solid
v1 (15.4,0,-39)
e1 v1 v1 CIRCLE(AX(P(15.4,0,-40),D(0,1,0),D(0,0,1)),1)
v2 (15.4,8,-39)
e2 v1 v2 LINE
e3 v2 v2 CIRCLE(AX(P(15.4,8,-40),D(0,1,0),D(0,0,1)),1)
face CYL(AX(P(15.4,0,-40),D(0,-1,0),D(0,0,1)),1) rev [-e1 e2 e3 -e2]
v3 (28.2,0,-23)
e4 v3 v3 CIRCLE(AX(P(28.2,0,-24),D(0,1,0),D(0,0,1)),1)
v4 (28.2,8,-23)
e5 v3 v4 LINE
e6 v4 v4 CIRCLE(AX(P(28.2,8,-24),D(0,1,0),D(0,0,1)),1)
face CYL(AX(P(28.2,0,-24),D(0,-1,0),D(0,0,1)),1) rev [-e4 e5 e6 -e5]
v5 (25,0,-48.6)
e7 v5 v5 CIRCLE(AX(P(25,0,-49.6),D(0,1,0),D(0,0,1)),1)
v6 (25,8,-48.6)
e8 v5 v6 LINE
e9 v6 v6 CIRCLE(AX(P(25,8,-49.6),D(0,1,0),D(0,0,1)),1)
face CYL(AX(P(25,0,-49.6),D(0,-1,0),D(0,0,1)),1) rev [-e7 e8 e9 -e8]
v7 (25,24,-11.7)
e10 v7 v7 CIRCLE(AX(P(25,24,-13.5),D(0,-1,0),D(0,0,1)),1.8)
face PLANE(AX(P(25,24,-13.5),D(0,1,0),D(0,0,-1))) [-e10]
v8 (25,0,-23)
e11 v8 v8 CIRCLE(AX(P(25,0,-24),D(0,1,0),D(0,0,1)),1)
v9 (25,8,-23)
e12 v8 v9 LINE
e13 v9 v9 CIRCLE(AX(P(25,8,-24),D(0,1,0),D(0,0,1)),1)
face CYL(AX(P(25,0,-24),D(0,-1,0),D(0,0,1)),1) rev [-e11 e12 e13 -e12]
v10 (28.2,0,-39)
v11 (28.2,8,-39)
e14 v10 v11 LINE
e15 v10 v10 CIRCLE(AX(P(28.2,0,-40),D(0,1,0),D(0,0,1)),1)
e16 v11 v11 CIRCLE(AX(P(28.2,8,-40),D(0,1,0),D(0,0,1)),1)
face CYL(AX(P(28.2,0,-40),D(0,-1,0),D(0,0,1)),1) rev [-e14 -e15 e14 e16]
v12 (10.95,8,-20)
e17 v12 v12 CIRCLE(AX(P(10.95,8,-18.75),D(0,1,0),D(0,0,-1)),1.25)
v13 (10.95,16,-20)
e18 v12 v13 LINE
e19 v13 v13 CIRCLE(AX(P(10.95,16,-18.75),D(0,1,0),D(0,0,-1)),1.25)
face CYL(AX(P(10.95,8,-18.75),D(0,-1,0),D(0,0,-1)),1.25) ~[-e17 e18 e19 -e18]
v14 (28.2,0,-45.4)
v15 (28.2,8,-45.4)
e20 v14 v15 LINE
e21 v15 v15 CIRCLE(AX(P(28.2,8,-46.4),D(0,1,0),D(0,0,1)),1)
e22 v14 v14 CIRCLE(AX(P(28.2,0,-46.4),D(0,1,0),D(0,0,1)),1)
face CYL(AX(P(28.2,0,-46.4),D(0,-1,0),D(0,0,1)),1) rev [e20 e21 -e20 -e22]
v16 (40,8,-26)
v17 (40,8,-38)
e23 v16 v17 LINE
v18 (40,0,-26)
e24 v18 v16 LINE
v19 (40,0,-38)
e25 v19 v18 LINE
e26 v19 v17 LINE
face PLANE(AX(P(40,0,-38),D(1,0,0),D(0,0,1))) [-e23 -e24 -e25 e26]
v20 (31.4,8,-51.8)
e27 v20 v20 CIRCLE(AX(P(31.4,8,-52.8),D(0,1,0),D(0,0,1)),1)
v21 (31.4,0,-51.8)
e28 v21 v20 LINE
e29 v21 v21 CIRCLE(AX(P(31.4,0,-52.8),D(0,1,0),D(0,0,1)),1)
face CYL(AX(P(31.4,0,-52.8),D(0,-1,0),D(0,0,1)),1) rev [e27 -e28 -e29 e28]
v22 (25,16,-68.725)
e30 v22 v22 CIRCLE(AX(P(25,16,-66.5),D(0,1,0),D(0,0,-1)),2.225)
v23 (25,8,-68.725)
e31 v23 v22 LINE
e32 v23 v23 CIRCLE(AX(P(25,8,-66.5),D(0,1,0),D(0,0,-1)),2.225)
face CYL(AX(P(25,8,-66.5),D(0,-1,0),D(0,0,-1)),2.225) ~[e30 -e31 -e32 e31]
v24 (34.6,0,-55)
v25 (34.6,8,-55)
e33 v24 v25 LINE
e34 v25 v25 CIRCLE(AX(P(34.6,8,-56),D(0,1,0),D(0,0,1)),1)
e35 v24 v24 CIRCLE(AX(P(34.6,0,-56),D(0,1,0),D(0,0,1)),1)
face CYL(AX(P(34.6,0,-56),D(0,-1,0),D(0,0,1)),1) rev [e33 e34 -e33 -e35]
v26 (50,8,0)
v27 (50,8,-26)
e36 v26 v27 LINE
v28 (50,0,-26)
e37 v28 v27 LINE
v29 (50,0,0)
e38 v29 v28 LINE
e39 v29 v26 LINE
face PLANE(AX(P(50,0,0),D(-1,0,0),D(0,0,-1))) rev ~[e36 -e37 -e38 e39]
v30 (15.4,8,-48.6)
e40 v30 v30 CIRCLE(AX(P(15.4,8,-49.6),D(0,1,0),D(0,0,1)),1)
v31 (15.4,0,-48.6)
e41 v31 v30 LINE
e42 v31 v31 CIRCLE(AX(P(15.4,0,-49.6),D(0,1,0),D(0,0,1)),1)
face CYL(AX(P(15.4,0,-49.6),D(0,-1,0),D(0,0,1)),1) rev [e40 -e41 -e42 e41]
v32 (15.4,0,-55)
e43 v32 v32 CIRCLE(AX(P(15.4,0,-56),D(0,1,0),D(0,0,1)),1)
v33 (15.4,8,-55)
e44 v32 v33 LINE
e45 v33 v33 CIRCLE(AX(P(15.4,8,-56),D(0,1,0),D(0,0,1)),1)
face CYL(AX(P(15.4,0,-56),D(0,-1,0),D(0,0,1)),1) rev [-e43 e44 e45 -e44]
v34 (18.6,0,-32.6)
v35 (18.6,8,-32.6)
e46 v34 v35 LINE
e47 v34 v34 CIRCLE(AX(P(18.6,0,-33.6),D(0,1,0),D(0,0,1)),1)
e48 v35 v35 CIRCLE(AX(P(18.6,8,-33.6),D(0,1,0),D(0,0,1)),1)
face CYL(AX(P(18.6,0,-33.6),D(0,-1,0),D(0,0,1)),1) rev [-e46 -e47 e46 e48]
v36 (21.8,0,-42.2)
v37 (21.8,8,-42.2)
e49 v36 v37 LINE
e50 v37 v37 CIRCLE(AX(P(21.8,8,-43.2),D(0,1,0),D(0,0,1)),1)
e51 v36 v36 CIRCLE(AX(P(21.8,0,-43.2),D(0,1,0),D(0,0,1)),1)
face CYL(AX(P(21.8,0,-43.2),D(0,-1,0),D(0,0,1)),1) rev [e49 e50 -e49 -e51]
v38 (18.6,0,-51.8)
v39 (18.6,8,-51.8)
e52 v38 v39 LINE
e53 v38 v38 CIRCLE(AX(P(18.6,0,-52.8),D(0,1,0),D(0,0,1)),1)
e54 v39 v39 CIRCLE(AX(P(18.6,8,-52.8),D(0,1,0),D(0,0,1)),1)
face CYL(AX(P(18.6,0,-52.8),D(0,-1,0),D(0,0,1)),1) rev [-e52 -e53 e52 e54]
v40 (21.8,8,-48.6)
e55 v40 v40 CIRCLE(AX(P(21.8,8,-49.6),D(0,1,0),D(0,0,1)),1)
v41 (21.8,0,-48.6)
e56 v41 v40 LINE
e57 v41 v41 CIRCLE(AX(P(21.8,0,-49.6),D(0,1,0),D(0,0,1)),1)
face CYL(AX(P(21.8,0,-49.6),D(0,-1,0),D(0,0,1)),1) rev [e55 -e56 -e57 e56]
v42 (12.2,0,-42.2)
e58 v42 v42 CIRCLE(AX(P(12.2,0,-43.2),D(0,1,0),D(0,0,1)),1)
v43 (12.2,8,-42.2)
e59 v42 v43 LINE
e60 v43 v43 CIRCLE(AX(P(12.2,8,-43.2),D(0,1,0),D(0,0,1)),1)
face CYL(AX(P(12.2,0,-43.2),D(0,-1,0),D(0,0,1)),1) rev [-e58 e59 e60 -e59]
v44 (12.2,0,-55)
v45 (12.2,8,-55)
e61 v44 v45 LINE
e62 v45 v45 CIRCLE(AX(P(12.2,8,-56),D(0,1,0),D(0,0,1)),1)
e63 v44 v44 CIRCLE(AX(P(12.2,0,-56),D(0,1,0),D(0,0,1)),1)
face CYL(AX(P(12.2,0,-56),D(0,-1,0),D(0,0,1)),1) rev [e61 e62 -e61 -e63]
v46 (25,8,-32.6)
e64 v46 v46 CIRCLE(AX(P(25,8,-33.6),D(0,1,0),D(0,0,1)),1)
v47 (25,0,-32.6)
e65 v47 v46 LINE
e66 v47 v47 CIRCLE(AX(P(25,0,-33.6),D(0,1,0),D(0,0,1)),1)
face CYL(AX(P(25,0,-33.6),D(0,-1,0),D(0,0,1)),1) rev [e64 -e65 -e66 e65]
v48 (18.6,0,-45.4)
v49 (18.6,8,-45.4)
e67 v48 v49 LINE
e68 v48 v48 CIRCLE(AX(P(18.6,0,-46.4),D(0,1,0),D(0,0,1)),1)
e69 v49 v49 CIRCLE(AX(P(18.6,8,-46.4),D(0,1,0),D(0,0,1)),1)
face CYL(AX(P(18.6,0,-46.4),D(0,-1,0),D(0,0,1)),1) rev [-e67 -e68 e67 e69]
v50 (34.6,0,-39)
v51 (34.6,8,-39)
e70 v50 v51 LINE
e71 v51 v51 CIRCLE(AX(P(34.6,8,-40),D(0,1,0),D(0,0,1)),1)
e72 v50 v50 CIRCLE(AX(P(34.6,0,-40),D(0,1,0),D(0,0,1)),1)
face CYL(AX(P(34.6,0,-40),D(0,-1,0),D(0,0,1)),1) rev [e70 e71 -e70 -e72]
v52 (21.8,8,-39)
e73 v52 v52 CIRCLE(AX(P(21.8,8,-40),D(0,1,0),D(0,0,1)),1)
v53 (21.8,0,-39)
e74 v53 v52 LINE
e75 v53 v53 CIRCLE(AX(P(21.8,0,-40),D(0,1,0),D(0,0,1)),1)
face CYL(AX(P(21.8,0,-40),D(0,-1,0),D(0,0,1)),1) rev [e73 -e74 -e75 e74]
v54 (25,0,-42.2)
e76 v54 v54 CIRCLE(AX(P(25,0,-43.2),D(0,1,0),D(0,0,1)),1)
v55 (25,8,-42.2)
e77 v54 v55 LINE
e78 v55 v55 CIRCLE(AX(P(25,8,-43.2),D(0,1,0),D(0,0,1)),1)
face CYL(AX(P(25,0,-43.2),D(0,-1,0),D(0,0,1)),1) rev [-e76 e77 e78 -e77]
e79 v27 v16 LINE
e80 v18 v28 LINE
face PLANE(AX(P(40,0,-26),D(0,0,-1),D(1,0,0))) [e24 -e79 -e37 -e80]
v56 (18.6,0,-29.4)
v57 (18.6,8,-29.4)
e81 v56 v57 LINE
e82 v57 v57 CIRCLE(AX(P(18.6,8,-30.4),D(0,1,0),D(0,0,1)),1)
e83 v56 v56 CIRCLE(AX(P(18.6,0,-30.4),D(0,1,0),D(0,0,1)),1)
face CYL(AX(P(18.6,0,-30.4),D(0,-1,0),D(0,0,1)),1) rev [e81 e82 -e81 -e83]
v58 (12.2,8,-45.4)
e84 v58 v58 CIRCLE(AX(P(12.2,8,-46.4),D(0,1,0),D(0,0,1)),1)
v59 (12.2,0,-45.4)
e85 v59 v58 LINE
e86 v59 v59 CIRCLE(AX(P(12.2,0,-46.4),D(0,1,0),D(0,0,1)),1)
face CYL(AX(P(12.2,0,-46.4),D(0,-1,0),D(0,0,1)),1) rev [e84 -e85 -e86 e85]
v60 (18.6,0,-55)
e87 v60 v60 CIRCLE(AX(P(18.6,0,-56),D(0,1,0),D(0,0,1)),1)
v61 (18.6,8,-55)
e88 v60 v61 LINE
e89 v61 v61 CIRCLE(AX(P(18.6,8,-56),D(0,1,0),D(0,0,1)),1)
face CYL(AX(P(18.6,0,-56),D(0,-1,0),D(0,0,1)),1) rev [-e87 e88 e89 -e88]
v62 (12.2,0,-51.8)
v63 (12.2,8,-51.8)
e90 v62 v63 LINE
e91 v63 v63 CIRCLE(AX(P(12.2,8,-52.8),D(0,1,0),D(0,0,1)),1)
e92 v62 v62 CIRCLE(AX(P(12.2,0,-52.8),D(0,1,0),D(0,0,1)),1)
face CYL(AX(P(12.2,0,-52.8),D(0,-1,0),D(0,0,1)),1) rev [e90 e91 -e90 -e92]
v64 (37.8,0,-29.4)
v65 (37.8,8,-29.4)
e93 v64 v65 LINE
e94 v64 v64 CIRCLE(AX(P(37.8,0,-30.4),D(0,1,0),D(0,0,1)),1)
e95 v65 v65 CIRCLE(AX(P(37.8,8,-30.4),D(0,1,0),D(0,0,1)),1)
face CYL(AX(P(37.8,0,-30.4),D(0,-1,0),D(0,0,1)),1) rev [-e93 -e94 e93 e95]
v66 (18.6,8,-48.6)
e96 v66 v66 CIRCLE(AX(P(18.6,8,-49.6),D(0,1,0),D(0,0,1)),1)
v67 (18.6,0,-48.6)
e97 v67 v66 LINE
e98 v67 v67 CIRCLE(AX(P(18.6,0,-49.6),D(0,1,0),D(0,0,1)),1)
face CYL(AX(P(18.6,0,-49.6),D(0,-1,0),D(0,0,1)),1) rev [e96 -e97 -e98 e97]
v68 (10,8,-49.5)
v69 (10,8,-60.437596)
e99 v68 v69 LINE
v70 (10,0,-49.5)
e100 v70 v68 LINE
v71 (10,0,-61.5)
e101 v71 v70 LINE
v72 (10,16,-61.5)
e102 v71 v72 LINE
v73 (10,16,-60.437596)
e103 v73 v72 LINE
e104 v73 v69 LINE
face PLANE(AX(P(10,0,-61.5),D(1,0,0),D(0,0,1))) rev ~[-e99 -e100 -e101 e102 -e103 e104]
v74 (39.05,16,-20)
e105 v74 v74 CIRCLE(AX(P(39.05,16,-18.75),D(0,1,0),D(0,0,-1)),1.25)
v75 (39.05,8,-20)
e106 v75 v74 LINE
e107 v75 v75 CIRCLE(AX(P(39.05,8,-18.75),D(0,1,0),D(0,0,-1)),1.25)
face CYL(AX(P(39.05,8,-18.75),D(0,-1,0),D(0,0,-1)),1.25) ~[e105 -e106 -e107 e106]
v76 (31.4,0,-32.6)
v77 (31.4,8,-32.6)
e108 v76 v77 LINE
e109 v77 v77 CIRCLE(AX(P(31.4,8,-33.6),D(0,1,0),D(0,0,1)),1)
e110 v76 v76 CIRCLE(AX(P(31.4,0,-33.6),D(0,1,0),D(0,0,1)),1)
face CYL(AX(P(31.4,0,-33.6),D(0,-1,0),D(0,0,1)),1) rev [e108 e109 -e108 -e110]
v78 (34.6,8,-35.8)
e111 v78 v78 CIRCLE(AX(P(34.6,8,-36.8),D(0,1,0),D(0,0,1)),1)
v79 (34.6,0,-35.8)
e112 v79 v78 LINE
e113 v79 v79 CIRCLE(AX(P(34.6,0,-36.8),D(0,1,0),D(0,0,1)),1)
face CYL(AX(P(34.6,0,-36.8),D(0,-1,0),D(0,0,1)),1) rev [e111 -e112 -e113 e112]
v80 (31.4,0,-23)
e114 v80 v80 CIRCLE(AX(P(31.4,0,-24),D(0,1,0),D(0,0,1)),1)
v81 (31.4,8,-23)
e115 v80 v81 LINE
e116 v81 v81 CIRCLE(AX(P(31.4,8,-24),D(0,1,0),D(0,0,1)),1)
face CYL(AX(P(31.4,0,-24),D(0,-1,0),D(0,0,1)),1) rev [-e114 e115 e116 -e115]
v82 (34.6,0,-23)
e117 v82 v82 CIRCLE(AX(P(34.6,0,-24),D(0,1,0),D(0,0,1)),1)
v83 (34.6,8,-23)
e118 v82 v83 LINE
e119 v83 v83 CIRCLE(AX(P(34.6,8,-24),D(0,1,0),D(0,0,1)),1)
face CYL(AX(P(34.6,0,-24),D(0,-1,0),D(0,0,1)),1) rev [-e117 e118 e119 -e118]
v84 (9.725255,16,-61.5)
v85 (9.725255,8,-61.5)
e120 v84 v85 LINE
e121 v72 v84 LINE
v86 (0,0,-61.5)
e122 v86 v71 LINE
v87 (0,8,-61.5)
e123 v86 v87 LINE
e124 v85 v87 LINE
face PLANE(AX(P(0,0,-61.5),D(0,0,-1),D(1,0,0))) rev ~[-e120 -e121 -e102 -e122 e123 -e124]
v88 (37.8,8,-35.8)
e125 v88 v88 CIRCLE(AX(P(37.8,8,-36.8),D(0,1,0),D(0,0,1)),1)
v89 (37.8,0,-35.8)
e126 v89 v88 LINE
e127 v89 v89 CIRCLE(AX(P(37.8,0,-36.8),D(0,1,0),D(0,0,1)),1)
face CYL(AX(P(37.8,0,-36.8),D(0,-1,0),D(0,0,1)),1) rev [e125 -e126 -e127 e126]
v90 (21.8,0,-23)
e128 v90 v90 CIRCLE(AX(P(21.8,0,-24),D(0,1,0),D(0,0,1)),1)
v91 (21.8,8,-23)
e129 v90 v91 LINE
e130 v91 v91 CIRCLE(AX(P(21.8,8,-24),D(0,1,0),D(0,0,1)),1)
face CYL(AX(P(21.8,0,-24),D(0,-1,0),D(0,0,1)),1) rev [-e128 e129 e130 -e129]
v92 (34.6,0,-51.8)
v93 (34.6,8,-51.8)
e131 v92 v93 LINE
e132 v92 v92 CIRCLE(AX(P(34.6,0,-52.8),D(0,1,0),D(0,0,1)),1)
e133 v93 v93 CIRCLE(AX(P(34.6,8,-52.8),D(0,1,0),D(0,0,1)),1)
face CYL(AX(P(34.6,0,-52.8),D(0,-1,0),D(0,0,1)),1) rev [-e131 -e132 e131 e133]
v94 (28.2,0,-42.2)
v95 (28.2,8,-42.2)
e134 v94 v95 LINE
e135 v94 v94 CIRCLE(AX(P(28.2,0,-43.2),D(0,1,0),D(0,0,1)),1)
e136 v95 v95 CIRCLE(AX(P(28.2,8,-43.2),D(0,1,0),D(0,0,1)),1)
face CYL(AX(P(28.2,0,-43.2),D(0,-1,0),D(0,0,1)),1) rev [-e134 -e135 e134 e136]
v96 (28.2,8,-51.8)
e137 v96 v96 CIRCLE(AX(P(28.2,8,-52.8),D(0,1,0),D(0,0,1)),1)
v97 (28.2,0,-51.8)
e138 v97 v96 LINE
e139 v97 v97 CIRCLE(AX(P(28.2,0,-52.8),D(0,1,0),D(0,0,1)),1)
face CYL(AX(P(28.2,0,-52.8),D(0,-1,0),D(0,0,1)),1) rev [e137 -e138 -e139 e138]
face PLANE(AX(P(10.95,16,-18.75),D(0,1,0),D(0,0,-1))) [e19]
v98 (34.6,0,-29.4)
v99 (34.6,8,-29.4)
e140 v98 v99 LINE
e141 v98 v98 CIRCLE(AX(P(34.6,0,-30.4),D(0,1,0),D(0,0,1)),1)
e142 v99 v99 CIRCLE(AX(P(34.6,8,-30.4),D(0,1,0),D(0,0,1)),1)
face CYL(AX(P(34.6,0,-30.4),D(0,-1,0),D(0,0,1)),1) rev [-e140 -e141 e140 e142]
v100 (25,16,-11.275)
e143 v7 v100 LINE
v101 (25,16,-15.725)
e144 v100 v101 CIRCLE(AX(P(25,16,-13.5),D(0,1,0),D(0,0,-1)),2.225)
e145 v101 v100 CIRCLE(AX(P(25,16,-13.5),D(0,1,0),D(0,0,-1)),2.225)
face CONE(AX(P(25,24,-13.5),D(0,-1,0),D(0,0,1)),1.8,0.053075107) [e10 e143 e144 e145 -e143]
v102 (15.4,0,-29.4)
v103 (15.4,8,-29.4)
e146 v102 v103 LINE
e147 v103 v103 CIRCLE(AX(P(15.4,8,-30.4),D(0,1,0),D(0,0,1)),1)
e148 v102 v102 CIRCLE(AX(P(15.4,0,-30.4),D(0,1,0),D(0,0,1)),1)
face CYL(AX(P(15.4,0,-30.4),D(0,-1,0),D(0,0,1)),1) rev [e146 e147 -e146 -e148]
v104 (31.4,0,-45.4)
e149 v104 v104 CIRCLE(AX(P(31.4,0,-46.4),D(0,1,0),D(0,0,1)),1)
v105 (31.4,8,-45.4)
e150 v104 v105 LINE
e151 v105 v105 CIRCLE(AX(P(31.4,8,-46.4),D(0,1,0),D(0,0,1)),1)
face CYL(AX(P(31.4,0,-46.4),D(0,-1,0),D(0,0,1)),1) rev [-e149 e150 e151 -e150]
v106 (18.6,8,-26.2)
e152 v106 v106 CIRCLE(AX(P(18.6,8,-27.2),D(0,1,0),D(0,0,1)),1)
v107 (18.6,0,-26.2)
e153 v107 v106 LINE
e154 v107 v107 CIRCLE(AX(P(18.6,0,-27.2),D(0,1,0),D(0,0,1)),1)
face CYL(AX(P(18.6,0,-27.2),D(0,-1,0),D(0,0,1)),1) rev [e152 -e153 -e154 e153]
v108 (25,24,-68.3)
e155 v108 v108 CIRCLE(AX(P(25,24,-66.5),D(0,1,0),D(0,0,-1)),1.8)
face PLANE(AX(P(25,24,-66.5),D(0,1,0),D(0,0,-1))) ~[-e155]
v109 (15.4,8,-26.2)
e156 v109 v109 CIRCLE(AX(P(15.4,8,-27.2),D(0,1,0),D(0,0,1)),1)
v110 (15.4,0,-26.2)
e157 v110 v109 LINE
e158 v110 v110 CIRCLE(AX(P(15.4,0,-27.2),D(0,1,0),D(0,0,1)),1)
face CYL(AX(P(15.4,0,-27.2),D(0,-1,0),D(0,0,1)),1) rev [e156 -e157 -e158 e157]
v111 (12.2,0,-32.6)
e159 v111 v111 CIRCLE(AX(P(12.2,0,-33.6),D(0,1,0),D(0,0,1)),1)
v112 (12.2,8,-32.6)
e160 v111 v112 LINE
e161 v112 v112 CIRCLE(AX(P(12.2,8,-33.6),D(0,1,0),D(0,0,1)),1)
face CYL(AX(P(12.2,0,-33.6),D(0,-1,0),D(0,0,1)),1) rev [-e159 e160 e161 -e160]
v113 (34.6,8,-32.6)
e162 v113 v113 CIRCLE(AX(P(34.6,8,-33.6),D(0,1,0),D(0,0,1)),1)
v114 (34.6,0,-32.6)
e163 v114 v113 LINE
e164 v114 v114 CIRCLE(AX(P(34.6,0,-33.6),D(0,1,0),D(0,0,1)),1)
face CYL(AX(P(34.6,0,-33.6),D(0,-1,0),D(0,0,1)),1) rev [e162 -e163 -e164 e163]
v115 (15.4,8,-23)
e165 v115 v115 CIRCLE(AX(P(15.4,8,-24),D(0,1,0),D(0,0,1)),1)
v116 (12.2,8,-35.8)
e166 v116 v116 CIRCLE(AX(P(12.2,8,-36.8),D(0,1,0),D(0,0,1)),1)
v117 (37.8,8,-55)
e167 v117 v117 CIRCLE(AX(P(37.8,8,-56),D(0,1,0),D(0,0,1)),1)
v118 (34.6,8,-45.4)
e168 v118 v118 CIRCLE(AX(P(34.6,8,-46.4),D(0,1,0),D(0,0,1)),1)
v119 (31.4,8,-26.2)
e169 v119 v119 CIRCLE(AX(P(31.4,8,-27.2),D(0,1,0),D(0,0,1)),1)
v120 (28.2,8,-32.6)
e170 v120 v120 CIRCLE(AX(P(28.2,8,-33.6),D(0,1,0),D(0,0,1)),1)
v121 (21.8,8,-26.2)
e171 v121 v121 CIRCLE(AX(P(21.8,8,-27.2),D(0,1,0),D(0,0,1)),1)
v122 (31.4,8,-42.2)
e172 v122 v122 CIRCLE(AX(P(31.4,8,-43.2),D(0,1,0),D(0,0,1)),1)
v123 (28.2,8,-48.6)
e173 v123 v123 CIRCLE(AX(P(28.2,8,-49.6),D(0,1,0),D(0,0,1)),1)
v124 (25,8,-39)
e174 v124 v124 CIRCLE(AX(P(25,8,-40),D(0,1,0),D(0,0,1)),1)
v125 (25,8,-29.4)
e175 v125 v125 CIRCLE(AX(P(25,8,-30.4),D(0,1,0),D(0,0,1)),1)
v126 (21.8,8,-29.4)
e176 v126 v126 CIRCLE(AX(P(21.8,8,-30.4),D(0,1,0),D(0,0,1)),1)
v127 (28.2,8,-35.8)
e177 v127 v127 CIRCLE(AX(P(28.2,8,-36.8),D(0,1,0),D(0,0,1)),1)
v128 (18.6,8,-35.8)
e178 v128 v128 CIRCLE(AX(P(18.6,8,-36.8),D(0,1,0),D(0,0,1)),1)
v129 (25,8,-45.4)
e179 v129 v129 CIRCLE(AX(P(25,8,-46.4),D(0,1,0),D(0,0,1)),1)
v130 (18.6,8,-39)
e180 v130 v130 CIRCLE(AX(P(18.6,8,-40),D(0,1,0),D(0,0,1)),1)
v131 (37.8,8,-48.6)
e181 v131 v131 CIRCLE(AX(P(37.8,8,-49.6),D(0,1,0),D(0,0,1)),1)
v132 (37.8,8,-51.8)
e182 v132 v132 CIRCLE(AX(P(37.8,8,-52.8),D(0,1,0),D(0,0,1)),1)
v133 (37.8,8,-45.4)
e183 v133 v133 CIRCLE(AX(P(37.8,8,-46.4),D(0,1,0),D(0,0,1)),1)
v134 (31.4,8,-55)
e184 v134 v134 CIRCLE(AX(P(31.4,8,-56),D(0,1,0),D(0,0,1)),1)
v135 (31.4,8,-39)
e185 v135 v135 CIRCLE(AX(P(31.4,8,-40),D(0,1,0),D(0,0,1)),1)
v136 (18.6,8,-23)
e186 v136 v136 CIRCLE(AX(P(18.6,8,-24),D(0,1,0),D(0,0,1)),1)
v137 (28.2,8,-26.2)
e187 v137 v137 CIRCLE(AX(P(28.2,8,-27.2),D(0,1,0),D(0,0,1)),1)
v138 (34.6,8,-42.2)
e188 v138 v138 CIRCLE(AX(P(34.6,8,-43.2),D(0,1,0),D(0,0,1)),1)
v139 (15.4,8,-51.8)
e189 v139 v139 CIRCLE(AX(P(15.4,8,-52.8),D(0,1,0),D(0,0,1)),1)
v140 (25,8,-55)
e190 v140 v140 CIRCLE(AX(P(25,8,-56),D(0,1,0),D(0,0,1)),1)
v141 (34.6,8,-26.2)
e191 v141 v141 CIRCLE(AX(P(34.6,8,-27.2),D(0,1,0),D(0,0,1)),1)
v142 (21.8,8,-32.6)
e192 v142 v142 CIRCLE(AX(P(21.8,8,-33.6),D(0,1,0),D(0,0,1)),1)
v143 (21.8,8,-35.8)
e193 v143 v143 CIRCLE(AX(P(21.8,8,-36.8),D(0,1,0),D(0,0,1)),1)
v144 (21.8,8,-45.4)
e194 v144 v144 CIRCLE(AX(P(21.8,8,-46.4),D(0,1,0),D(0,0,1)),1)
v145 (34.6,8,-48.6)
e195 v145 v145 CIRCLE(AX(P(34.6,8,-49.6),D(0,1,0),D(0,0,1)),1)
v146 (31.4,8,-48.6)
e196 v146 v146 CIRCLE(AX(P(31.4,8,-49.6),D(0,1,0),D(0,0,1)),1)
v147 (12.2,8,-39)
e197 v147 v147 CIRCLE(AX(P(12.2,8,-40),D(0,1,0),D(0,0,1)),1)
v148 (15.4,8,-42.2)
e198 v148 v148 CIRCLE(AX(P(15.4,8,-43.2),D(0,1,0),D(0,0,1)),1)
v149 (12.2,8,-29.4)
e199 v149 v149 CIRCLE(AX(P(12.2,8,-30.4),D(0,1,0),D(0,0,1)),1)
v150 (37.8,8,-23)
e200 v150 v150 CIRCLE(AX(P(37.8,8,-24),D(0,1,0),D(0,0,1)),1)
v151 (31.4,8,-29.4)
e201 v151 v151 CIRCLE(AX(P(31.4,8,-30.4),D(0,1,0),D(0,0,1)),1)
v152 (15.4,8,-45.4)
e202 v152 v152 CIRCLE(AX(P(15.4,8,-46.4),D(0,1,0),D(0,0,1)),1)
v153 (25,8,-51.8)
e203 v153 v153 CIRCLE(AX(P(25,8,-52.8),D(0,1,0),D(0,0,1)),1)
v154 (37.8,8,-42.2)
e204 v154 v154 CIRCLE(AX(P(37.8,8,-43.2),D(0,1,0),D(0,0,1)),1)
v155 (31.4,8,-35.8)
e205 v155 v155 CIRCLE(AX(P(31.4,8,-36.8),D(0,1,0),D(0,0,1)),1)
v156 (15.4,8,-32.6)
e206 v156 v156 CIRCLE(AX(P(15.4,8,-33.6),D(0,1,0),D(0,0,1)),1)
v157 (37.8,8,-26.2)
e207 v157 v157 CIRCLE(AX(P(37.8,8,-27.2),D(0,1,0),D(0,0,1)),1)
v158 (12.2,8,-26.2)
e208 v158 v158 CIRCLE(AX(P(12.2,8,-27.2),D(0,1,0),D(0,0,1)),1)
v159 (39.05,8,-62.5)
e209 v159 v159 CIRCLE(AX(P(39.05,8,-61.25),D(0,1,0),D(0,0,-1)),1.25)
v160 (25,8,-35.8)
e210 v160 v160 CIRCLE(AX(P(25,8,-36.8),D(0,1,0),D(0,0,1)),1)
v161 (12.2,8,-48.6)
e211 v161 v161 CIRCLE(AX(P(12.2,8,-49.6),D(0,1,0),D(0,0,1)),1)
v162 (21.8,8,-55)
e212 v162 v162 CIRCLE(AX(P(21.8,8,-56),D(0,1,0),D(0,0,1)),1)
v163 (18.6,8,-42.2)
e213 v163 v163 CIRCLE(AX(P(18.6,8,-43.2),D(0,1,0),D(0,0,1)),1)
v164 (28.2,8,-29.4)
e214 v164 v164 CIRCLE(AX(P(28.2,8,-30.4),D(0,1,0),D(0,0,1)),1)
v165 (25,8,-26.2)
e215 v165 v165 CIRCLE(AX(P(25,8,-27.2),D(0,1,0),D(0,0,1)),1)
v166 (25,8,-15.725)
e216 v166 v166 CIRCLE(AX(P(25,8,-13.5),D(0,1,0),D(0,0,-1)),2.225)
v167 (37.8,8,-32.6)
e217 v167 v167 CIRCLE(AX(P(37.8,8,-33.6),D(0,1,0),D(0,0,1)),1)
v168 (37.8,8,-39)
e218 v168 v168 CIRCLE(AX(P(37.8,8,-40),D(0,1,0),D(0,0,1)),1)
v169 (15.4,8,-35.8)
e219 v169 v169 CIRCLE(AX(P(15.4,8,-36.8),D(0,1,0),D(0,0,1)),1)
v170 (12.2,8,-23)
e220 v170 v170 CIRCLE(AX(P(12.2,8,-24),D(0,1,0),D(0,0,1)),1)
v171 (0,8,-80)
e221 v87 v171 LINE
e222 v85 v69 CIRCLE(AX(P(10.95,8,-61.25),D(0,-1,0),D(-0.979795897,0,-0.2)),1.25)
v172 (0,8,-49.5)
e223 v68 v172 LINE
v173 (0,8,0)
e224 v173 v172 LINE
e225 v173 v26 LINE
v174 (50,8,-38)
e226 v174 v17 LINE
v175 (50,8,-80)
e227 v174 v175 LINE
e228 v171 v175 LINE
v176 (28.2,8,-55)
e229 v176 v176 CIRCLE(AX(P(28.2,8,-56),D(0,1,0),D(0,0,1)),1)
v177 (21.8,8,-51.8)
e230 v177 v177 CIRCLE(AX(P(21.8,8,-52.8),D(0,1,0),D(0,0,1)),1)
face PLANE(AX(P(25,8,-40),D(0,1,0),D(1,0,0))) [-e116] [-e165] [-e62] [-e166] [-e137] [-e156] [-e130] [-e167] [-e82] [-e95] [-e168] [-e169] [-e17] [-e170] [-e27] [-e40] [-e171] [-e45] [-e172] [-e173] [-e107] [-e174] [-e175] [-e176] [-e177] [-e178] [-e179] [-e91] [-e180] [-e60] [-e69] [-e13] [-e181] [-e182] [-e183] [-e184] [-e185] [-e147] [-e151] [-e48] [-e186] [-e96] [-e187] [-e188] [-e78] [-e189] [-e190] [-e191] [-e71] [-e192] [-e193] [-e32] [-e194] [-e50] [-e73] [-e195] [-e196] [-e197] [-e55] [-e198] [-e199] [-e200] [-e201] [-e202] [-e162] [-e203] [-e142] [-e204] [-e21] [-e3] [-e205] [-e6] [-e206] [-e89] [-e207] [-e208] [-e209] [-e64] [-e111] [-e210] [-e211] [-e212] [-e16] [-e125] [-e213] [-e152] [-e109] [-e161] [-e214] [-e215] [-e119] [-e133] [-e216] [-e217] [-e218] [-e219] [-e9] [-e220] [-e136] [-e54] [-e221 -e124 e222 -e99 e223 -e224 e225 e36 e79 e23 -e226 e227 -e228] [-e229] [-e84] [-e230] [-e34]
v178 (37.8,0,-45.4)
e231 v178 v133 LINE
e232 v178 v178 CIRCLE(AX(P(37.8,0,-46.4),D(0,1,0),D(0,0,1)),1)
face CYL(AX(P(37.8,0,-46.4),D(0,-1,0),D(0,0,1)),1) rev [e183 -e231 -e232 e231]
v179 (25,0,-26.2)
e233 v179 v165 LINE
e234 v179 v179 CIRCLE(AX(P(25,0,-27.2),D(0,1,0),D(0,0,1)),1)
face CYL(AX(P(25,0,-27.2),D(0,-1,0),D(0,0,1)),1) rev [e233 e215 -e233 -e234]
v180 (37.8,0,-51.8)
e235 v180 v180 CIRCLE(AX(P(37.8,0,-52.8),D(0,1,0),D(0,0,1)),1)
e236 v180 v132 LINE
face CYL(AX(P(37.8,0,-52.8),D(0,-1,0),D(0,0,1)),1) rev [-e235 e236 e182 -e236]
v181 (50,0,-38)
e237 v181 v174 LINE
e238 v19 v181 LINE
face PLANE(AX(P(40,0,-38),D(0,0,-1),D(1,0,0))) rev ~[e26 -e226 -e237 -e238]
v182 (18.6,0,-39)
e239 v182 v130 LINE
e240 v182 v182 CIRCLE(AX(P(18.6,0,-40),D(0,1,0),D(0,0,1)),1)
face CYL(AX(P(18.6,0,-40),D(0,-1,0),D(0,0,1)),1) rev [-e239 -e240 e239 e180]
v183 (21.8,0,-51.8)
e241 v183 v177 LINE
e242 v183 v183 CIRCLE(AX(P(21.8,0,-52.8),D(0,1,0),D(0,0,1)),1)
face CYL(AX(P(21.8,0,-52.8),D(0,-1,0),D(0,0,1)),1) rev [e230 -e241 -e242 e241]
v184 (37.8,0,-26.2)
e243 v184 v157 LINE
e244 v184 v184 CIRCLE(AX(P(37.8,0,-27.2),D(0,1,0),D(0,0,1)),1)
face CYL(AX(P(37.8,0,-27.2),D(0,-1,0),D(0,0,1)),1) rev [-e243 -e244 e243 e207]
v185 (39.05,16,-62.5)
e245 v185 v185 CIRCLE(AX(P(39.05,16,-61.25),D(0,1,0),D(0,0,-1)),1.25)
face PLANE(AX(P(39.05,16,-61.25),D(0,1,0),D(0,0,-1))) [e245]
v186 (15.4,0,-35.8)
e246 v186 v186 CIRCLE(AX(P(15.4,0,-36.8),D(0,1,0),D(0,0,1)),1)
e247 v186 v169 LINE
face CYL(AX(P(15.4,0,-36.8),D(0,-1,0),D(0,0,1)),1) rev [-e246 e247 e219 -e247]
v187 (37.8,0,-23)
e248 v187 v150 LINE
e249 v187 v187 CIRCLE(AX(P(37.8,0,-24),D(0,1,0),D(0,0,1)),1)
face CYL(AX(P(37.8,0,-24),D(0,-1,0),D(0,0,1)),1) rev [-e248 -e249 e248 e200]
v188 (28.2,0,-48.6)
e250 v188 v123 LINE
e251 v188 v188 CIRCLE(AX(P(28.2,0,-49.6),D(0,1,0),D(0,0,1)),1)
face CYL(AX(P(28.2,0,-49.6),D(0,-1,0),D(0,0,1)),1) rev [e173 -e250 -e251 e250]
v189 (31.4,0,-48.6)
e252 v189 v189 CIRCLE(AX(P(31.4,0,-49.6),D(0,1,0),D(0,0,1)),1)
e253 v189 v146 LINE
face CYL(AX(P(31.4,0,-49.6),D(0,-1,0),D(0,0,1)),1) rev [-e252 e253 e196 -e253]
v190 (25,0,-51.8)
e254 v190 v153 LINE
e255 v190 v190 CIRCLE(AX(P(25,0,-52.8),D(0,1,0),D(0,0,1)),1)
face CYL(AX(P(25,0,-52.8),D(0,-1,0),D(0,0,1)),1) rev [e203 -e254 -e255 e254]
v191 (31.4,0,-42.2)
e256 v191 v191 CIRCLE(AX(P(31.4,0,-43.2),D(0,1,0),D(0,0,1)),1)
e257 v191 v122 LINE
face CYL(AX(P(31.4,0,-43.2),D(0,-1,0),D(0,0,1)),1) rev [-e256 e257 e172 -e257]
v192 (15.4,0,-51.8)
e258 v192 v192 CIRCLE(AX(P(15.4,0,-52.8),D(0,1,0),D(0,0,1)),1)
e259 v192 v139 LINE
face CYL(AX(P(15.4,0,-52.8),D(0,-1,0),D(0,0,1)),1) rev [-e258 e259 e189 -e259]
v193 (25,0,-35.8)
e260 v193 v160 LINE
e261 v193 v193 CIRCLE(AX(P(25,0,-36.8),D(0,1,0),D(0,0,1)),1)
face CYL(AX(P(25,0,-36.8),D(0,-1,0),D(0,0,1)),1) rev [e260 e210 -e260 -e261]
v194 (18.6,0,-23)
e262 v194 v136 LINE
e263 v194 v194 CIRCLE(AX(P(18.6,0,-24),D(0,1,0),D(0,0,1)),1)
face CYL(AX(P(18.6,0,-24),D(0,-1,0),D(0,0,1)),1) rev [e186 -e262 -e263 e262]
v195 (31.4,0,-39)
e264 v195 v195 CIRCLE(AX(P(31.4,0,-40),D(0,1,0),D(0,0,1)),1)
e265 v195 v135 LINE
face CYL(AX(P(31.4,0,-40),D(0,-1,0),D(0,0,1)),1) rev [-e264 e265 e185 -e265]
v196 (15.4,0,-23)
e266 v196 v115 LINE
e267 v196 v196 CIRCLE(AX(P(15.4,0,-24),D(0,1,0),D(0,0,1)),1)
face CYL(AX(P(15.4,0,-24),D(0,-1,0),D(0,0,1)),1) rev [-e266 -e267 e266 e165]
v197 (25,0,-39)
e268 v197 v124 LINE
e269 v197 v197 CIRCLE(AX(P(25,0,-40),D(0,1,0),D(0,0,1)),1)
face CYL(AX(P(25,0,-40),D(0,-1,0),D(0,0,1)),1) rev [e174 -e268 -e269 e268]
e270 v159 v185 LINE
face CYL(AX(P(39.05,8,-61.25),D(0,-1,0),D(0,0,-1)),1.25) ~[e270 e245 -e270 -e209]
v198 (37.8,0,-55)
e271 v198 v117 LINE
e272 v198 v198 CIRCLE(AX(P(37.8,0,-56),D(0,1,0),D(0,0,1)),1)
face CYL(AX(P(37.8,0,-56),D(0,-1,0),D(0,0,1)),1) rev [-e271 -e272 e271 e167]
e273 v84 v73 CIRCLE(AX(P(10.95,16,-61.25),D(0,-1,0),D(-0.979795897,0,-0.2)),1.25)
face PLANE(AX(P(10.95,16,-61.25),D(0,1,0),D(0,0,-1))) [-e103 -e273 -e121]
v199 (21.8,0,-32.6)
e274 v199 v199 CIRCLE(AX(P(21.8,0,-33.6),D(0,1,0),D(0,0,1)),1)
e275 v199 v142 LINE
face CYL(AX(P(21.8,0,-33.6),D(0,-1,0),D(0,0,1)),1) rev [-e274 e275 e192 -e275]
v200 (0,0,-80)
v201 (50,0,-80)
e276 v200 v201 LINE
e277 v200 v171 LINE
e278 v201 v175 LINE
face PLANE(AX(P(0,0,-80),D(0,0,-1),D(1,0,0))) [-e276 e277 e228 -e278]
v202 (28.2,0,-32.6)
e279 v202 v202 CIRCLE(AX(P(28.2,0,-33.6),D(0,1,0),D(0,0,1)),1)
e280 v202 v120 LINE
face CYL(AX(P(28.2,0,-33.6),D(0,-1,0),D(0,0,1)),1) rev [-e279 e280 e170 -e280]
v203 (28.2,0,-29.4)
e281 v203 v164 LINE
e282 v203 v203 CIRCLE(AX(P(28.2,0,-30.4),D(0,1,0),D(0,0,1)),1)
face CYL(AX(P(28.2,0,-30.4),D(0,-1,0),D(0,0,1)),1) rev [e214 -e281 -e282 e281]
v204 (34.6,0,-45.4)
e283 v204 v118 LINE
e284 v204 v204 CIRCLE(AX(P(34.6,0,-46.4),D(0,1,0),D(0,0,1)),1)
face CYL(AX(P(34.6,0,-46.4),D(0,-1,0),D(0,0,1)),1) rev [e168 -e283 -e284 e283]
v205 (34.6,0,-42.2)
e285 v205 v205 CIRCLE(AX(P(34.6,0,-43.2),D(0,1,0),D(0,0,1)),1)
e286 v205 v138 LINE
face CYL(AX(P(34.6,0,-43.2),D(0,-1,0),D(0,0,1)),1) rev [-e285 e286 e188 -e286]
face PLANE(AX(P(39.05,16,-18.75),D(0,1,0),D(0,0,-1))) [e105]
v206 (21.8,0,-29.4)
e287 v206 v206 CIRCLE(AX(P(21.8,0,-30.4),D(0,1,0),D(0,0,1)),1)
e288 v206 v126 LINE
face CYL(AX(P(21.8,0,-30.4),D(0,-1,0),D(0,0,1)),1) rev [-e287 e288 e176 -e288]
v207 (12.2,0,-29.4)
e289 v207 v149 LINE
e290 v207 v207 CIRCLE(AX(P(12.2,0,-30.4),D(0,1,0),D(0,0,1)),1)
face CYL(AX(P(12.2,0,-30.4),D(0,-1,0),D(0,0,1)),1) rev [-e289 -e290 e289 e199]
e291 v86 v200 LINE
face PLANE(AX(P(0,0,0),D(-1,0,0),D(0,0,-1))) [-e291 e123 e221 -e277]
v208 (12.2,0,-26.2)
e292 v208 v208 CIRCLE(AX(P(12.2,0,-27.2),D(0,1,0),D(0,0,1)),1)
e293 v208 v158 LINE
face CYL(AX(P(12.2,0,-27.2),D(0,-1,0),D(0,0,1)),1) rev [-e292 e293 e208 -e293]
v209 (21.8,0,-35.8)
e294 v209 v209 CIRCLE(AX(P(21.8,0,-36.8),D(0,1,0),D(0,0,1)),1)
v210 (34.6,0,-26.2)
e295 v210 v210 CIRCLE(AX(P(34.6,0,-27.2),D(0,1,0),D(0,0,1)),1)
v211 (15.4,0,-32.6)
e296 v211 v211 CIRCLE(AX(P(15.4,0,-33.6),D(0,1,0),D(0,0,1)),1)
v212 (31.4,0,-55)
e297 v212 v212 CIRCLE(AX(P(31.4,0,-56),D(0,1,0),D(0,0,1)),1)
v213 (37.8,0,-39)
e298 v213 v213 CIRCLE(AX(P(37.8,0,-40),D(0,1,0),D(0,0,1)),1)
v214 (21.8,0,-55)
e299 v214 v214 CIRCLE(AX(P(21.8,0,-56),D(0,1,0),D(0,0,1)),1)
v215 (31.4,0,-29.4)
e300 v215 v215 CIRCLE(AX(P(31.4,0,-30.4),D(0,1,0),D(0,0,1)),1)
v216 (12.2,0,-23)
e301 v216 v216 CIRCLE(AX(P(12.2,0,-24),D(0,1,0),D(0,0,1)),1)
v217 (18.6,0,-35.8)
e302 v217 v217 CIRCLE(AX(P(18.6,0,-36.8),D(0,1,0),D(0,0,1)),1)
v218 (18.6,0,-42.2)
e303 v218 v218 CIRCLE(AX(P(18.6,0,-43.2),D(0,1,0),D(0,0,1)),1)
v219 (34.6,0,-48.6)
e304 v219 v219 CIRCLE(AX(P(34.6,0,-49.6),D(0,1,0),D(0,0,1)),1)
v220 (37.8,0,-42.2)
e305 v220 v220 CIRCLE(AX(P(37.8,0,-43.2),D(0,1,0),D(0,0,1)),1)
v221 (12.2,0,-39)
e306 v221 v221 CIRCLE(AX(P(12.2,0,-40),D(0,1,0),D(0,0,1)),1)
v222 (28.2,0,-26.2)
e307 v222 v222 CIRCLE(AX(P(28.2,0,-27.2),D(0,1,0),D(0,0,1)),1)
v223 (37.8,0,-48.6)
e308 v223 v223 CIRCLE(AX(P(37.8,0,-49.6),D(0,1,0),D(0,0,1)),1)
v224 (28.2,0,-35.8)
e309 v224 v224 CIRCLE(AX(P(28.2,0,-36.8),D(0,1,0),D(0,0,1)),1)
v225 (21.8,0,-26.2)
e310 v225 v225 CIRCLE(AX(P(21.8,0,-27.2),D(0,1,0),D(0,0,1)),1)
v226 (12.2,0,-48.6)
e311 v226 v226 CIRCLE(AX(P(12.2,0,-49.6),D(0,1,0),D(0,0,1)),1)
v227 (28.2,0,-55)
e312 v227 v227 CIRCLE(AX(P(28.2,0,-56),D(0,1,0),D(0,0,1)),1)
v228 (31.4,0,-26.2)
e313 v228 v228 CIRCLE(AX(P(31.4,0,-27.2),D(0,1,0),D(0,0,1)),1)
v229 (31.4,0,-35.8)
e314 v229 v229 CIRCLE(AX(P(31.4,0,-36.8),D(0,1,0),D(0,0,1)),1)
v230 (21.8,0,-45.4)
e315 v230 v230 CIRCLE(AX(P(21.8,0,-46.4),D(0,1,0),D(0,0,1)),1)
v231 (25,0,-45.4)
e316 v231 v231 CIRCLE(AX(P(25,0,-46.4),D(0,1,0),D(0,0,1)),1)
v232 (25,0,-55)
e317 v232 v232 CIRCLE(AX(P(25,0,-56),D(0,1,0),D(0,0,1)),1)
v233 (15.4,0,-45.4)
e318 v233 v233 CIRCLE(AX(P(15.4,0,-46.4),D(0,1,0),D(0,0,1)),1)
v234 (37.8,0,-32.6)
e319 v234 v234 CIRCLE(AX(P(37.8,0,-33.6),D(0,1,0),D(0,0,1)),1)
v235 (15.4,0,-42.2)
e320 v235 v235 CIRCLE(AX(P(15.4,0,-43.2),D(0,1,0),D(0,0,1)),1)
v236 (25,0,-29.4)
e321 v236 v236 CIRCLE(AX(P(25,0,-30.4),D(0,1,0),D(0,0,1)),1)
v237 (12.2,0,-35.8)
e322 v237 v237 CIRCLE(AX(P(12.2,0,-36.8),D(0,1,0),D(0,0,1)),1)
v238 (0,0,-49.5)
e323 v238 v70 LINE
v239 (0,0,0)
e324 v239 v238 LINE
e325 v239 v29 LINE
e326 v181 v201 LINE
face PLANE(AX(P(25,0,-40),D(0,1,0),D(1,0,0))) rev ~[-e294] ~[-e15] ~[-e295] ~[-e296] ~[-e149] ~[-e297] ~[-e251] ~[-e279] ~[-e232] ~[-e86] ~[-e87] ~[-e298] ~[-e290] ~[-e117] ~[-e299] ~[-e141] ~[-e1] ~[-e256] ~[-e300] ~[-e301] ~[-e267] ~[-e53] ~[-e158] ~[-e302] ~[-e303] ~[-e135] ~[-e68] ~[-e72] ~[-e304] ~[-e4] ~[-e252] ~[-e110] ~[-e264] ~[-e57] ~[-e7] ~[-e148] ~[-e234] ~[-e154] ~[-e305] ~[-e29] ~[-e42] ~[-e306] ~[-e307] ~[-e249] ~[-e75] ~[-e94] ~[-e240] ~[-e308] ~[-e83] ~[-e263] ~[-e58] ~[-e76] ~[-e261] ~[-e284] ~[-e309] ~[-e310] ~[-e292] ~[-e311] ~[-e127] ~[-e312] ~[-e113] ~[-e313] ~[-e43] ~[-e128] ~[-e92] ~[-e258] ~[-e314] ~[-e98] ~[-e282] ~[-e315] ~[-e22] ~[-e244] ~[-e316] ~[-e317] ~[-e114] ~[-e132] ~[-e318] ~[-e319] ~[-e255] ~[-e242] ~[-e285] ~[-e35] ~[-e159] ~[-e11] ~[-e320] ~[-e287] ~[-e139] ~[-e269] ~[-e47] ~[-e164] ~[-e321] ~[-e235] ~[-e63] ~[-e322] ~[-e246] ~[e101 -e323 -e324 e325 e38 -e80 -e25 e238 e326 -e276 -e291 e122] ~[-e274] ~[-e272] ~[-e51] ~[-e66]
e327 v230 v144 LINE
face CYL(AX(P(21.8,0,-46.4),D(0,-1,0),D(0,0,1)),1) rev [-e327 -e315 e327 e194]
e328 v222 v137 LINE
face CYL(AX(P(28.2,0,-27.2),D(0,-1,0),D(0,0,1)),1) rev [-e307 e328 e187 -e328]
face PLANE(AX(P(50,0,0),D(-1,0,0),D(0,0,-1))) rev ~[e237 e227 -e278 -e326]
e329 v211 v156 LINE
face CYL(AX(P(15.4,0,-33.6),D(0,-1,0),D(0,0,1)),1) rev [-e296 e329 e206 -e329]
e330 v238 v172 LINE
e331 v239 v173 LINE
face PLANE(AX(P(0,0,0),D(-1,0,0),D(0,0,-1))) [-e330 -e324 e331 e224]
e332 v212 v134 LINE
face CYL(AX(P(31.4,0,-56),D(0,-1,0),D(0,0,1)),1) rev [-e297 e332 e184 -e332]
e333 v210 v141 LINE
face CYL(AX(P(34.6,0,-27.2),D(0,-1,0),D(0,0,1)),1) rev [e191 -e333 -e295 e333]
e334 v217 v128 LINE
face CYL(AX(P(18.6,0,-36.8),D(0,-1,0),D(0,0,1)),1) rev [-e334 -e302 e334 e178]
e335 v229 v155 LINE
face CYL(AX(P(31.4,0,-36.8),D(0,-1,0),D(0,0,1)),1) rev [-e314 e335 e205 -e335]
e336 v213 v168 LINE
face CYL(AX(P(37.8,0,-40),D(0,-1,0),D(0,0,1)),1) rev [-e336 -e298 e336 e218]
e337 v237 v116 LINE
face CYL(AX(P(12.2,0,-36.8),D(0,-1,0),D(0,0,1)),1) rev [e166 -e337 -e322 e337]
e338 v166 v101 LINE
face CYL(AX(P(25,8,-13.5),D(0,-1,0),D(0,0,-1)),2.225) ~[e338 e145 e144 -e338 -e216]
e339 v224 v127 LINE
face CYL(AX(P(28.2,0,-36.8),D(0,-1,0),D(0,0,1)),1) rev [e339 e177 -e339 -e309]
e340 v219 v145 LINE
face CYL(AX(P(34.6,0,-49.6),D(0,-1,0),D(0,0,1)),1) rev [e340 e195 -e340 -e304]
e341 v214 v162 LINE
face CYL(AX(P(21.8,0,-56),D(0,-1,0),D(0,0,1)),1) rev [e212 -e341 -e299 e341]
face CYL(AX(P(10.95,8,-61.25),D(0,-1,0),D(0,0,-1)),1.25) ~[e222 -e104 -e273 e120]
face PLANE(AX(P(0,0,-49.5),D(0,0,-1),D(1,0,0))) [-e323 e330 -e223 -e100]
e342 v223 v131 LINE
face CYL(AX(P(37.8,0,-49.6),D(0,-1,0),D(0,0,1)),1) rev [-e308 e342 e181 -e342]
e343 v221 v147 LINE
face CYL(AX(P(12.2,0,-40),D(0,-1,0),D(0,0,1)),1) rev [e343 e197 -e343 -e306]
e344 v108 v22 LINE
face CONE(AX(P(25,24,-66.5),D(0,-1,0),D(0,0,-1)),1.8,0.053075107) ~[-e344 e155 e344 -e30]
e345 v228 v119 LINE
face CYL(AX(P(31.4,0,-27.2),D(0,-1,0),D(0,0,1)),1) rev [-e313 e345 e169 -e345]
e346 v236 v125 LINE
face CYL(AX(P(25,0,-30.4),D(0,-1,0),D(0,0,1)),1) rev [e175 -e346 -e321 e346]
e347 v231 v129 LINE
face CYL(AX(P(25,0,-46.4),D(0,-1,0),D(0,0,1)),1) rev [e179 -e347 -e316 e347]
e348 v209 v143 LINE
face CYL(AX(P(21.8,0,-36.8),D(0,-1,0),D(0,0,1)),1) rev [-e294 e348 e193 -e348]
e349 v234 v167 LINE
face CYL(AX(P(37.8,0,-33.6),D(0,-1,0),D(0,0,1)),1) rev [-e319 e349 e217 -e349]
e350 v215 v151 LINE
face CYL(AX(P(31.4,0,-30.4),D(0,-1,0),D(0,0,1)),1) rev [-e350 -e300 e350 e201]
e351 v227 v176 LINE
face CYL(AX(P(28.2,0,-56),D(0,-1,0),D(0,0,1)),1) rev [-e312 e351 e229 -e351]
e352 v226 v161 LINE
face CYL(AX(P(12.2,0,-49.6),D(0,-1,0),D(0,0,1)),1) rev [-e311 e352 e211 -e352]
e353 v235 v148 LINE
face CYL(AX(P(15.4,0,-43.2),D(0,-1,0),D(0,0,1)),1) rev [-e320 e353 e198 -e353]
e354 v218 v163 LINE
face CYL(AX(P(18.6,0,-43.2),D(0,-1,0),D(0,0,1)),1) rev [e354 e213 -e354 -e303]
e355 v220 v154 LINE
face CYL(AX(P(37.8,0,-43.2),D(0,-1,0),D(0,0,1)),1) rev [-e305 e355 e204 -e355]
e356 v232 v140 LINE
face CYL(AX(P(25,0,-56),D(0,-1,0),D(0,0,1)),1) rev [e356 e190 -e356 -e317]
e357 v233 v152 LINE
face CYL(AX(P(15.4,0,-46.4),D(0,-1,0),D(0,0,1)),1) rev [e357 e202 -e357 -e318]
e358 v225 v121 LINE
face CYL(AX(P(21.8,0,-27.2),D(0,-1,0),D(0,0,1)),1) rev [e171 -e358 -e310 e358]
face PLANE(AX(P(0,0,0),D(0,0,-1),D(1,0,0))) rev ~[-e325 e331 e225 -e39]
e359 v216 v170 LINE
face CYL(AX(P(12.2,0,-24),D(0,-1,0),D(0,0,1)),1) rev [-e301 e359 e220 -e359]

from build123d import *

# Parameters (mm, degrees)
SKETCH1_W           = 50
SKETCH1_H           = 80
SKETCH1_R           = 1
BOSS_EXTRUDE1_DEPTH = 8
SKETCH2_R           = 2.225
SKETCH2_R_2         = 1.25
BOSS_EXTRUDE2_DEPTH = 8
SKETCH5_W           = 10
SKETCH5_H           = 12
CUT_EXTRUDE2_DEPTH  = 98.344748189


with BuildPart() as part:
    # Sketch1 → Boss-Extrude1 (new body)
    with BuildSketch(Plane(origin=(0, 0, 0), x_dir=(1, 0, 0), z_dir=(0, 1, 0))):
        with Locations((25, 40)):
            Rectangle(SKETCH1_W, SKETCH1_H)
        with Locations(Location((25, 40, 0), (0, 0, 270))):
            Circle(SKETCH1_R, mode=Mode.SUBTRACT)
        with Locations(Location((28.2, 40, 0), (0, 0, 270))):
            Circle(SKETCH1_R, mode=Mode.SUBTRACT)
        with Locations(Location((31.4, 40, 0), (0, 0, 270))):
            Circle(SKETCH1_R, mode=Mode.SUBTRACT)
        with Locations(Location((34.6, 40, 0), (0, 0, 270))):
            Circle(SKETCH1_R, mode=Mode.SUBTRACT)
        with Locations(Location((37.8, 40, 0), (0, 0, 270))):
            Circle(SKETCH1_R, mode=Mode.SUBTRACT)
        with Locations(Location((28.2, 43.2, 0), (0, 0, 270))):
            Circle(SKETCH1_R, mode=Mode.SUBTRACT)
        with Locations(Location((31.4, 43.2, 0), (0, 0, 270))):
            Circle(SKETCH1_R, mode=Mode.SUBTRACT)
        with Locations(Location((34.6, 43.2, 0), (0, 0, 270))):
            Circle(SKETCH1_R, mode=Mode.SUBTRACT)
        with Locations(Location((37.8, 43.2, 0), (0, 0, 270))):
            Circle(SKETCH1_R, mode=Mode.SUBTRACT)
        with Locations(Location((28.2, 46.4, 0), (0, 0, 270))):
            Circle(SKETCH1_R, mode=Mode.SUBTRACT)
        with Locations(Location((31.4, 46.4, 0), (0, 0, 270))):
            Circle(SKETCH1_R, mode=Mode.SUBTRACT)
        with Locations(Location((34.6, 46.4, 0), (0, 0, 270))):
            Circle(SKETCH1_R, mode=Mode.SUBTRACT)
        with Locations(Location((37.8, 46.4, 0), (0, 0, 270))):
            Circle(SKETCH1_R, mode=Mode.SUBTRACT)
        with Locations(Location((28.2, 49.6, 0), (0, 0, 270))):
            Circle(SKETCH1_R, mode=Mode.SUBTRACT)
        with Locations(Location((31.4, 49.6, 0), (0, 0, 270))):
            Circle(SKETCH1_R, mode=Mode.SUBTRACT)
        with Locations(Location((34.6, 49.6, 0), (0, 0, 270))):
            Circle(SKETCH1_R, mode=Mode.SUBTRACT)
        with Locations(Location((37.8, 49.6, 0), (0, 0, 270))):
            Circle(SKETCH1_R, mode=Mode.SUBTRACT)
        with Locations(Location((28.2, 52.8, 0), (0, 0, 270))):
            Circle(SKETCH1_R, mode=Mode.SUBTRACT)
        with Locations(Location((31.4, 52.8, 0), (0, 0, 270))):
            Circle(SKETCH1_R, mode=Mode.SUBTRACT)
        with Locations(Location((34.6, 52.8, 0), (0, 0, 270))):
            Circle(SKETCH1_R, mode=Mode.SUBTRACT)
        with Locations(Location((37.8, 52.8, 0), (0, 0, 270))):
            Circle(SKETCH1_R, mode=Mode.SUBTRACT)
        with Locations(Location((28.2, 56, 0), (0, 0, 270))):
            Circle(SKETCH1_R, mode=Mode.SUBTRACT)
        with Locations(Location((31.4, 56, 0), (0, 0, 270))):
            Circle(SKETCH1_R, mode=Mode.SUBTRACT)
        with Locations(Location((34.6, 56, 0), (0, 0, 270))):
            Circle(SKETCH1_R, mode=Mode.SUBTRACT)
        with Locations(Location((37.8, 56, 0), (0, 0, 270))):
            Circle(SKETCH1_R, mode=Mode.SUBTRACT)
        with Locations(Location((25, 43.2, 0), (0, 0, 270))):
            Circle(SKETCH1_R, mode=Mode.SUBTRACT)
        with Locations(Location((25, 46.4, 0), (0, 0, 270))):
            Circle(SKETCH1_R, mode=Mode.SUBTRACT)
        with Locations(Location((25, 49.6, 0), (0, 0, 270))):
            Circle(SKETCH1_R, mode=Mode.SUBTRACT)
        with Locations(Location((25, 52.8, 0), (0, 0, 270))):
            Circle(SKETCH1_R, mode=Mode.SUBTRACT)
        with Locations(Location((25, 56, 0), (0, 0, 270))):
            Circle(SKETCH1_R, mode=Mode.SUBTRACT)
        with Locations(Location((21.8, 40, 0), (0, 0, 270))):
            Circle(SKETCH1_R, mode=Mode.SUBTRACT)
        with Locations(Location((21.8, 43.2, 0), (0, 0, 270))):
            Circle(SKETCH1_R, mode=Mode.SUBTRACT)
        with Locations(Location((21.8, 46.4, 0), (0, 0, 270))):
            Circle(SKETCH1_R, mode=Mode.SUBTRACT)
        with Locations(Location((21.8, 49.6, 0), (0, 0, 270))):
            Circle(SKETCH1_R, mode=Mode.SUBTRACT)
        with Locations(Location((21.8, 52.8, 0), (0, 0, 270))):
            Circle(SKETCH1_R, mode=Mode.SUBTRACT)
        with Locations(Location((21.8, 56, 0), (0, 0, 270))):
            Circle(SKETCH1_R, mode=Mode.SUBTRACT)
        with Locations(Location((18.6, 40, 0), (0, 0, 270))):
            Circle(SKETCH1_R, mode=Mode.SUBTRACT)
        with Locations(Location((18.6, 43.2, 0), (0, 0, 270))):
            Circle(SKETCH1_R, mode=Mode.SUBTRACT)
        with Locations(Location((18.6, 46.4, 0), (0, 0, 270))):
            Circle(SKETCH1_R, mode=Mode.SUBTRACT)
        with Locations(Location((18.6, 49.6, 0), (0, 0, 270))):
            Circle(SKETCH1_R, mode=Mode.SUBTRACT)
        with Locations(Location((18.6, 52.8, 0), (0, 0, 270))):
            Circle(SKETCH1_R, mode=Mode.SUBTRACT)
        with Locations(Location((18.6, 56, 0), (0, 0, 270))):
            Circle(SKETCH1_R, mode=Mode.SUBTRACT)
        with Locations(Location((15.4, 40, 0), (0, 0, 270))):
            Circle(SKETCH1_R, mode=Mode.SUBTRACT)
        with Locations(Location((15.4, 43.2, 0), (0, 0, 270))):
            Circle(SKETCH1_R, mode=Mode.SUBTRACT)
        with Locations(Location((15.4, 46.4, 0), (0, 0, 270))):
            Circle(SKETCH1_R, mode=Mode.SUBTRACT)
        with Locations(Location((15.4, 49.6, 0), (0, 0, 270))):
            Circle(SKETCH1_R, mode=Mode.SUBTRACT)
        with Locations(Location((15.4, 52.8, 0), (0, 0, 270))):
            Circle(SKETCH1_R, mode=Mode.SUBTRACT)
        with Locations(Location((15.4, 56, 0), (0, 0, 270))):
            Circle(SKETCH1_R, mode=Mode.SUBTRACT)
        with Locations(Location((12.2, 40, 0), (0, 0, 270))):
            Circle(SKETCH1_R, mode=Mode.SUBTRACT)
        with Locations(Location((12.2, 43.2, 0), (0, 0, 270))):
            Circle(SKETCH1_R, mode=Mode.SUBTRACT)
        with Locations(Location((12.2, 46.4, 0), (0, 0, 270))):
            Circle(SKETCH1_R, mode=Mode.SUBTRACT)
        with Locations(Location((12.2, 49.6, 0), (0, 0, 270))):
            Circle(SKETCH1_R, mode=Mode.SUBTRACT)
        with Locations(Location((12.2, 52.8, 0), (0, 0, 270))):
            Circle(SKETCH1_R, mode=Mode.SUBTRACT)
        with Locations(Location((12.2, 56, 0), (0, 0, 270))):
            Circle(SKETCH1_R, mode=Mode.SUBTRACT)
        with Locations(Location((25, 36.8, 0), (0, 0, 270))):
            Circle(SKETCH1_R, mode=Mode.SUBTRACT)
        with Locations(Location((28.2, 36.8, 0), (0, 0, 270))):
            Circle(SKETCH1_R, mode=Mode.SUBTRACT)
        with Locations(Location((31.4, 36.8, 0), (0, 0, 270))):
            Circle(SKETCH1_R, mode=Mode.SUBTRACT)
        with Locations(Location((34.6, 36.8, 0), (0, 0, 270))):
            Circle(SKETCH1_R, mode=Mode.SUBTRACT)
        with Locations(Location((37.8, 36.8, 0), (0, 0, 270))):
            Circle(SKETCH1_R, mode=Mode.SUBTRACT)
        with Locations(Location((21.8, 36.8, 0), (0, 0, 270))):
            Circle(SKETCH1_R, mode=Mode.SUBTRACT)
        with Locations(Location((18.6, 36.8, 0), (0, 0, 270))):
            Circle(SKETCH1_R, mode=Mode.SUBTRACT)
        with Locations(Location((15.4, 36.8, 0), (0, 0, 270))):
            Circle(SKETCH1_R, mode=Mode.SUBTRACT)
        with Locations(Location((12.2, 36.8, 0), (0, 0, 270))):
            Circle(SKETCH1_R, mode=Mode.SUBTRACT)
        with Locations(Location((25, 33.6, 0), (0, 0, 270))):
            Circle(SKETCH1_R, mode=Mode.SUBTRACT)
        with Locations(Location((28.2, 33.6, 0), (0, 0, 270))):
            Circle(SKETCH1_R, mode=Mode.SUBTRACT)
        with Locations(Location((31.4, 33.6, 0), (0, 0, 270))):
            Circle(SKETCH1_R, mode=Mode.SUBTRACT)
        with Locations(Location((34.6, 33.6, 0), (0, 0, 270))):
            Circle(SKETCH1_R, mode=Mode.SUBTRACT)
        with Locations(Location((37.8, 33.6, 0), (0, 0, 270))):
            Circle(SKETCH1_R, mode=Mode.SUBTRACT)
        with Locations(Location((21.8, 33.6, 0), (0, 0, 270))):
            Circle(SKETCH1_R, mode=Mode.SUBTRACT)
        with Locations(Location((18.6, 33.6, 0), (0, 0, 270))):
            Circle(SKETCH1_R, mode=Mode.SUBTRACT)
        with Locations(Location((15.4, 33.6, 0), (0, 0, 270))):
            Circle(SKETCH1_R, mode=Mode.SUBTRACT)
        with Locations(Location((12.2, 33.6, 0), (0, 0, 270))):
            Circle(SKETCH1_R, mode=Mode.SUBTRACT)
        with Locations(Location((25, 30.4, 0), (0, 0, 270))):
            Circle(SKETCH1_R, mode=Mode.SUBTRACT)
        with Locations(Location((28.2, 30.4, 0), (0, 0, 270))):
            Circle(SKETCH1_R, mode=Mode.SUBTRACT)
        with Locations(Location((31.4, 30.4, 0), (0, 0, 270))):
            Circle(SKETCH1_R, mode=Mode.SUBTRACT)
        with Locations(Location((34.6, 30.4, 0), (0, 0, 270))):
            Circle(SKETCH1_R, mode=Mode.SUBTRACT)
        with Locations(Location((37.8, 30.4, 0), (0, 0, 270))):
            Circle(SKETCH1_R, mode=Mode.SUBTRACT)
        with Locations(Location((21.8, 30.4, 0), (0, 0, 270))):
            Circle(SKETCH1_R, mode=Mode.SUBTRACT)
        with Locations(Location((18.6, 30.4, 0), (0, 0, 270))):
            Circle(SKETCH1_R, mode=Mode.SUBTRACT)
        with Locations(Location((15.4, 30.4, 0), (0, 0, 270))):
            Circle(SKETCH1_R, mode=Mode.SUBTRACT)
        with Locations(Location((12.2, 30.4, 0), (0, 0, 270))):
            Circle(SKETCH1_R, mode=Mode.SUBTRACT)
        with Locations(Location((25, 27.2, 0), (0, 0, 270))):
            Circle(SKETCH1_R, mode=Mode.SUBTRACT)
        with Locations(Location((28.2, 27.2, 0), (0, 0, 270))):
            Circle(SKETCH1_R, mode=Mode.SUBTRACT)
        with Locations(Location((31.4, 27.2, 0), (0, 0, 270))):
            Circle(SKETCH1_R, mode=Mode.SUBTRACT)
        with Locations(Location((34.6, 27.2, 0), (0, 0, 270))):
            Circle(SKETCH1_R, mode=Mode.SUBTRACT)
        with Locations(Location((37.8, 27.2, 0), (0, 0, 270))):
            Circle(SKETCH1_R, mode=Mode.SUBTRACT)
        with Locations(Location((21.8, 27.2, 0), (0, 0, 270))):
            Circle(SKETCH1_R, mode=Mode.SUBTRACT)
        with Locations(Location((18.6, 27.2, 0), (0, 0, 270))):
            Circle(SKETCH1_R, mode=Mode.SUBTRACT)
        with Locations(Location((15.4, 27.2, 0), (0, 0, 270))):
            Circle(SKETCH1_R, mode=Mode.SUBTRACT)
        with Locations(Location((12.2, 27.2, 0), (0, 0, 270))):
            Circle(SKETCH1_R, mode=Mode.SUBTRACT)
        with Locations(Location((25, 24, 0), (0, 0, 270))):
            Circle(SKETCH1_R, mode=Mode.SUBTRACT)
        with Locations(Location((28.2, 24, 0), (0, 0, 270))):
            Circle(SKETCH1_R, mode=Mode.SUBTRACT)
        with Locations(Location((31.4, 24, 0), (0, 0, 270))):
            Circle(SKETCH1_R, mode=Mode.SUBTRACT)
        with Locations(Location((34.6, 24, 0), (0, 0, 270))):
            Circle(SKETCH1_R, mode=Mode.SUBTRACT)
        with Locations(Location((37.8, 24, 0), (0, 0, 270))):
            Circle(SKETCH1_R, mode=Mode.SUBTRACT)
        with Locations(Location((21.8, 24, 0), (0, 0, 270))):
            Circle(SKETCH1_R, mode=Mode.SUBTRACT)
        with Locations(Location((18.6, 24, 0), (0, 0, 270))):
            Circle(SKETCH1_R, mode=Mode.SUBTRACT)
        with Locations(Location((15.4, 24, 0), (0, 0, 270))):
            Circle(SKETCH1_R, mode=Mode.SUBTRACT)
        with Locations(Location((12.2, 24, 0), (0, 0, 270))):
            Circle(SKETCH1_R, mode=Mode.SUBTRACT)
    extrude(amount=BOSS_EXTRUDE1_DEPTH)

    # Sketch2 → Boss-Extrude2 (add)
    with BuildSketch(Plane(origin=(0, 8, 0), x_dir=(1, 0, 0), z_dir=(0, 1, 0))):
        with Locations(Location((25, 66.5, 0), (0, 0, 90))):
            Circle(SKETCH2_R)
        with Locations(Location((10.95, 61.25, 0), (0, 0, 90))):
            Circle(SKETCH2_R_2)
        with Locations(Location((39.05, 61.25, 0), (0, 0, 90))):
            Circle(SKETCH2_R_2)
        with Locations(Location((39.05, 18.75, 0), (0, 0, 90))):
            Circle(SKETCH2_R_2)
        with Locations(Location((10.95, 18.75, 0), (0, 0, 90))):
            Circle(SKETCH2_R_2)
        with Locations(Location((25, 13.5, 0), (0, 0, 90))):
            Circle(SKETCH2_R)
    extrude(amount=BOSS_EXTRUDE2_DEPTH)

    # Sketch3 → Revolve1 (revolve)
    with BuildSketch(Plane.ZY.offset(-25)):
        Polygon((-66.5, 16), (-66.5, 24), (-68.3, 24), (-68.725, 16), align=None)
    revolve1 = revolve(axis=Axis((25, 16, -66.5), (0, 1, 0)))

    # Mirror1: Revolve1 across plane
    add(revolve1.mirror(Plane(origin=(0, 0, -40), x_dir=(1, 0, 0), z_dir=(0, 0, -1))))

    # Sketch5 → Cut-Extrude2 (cut, through all)
    with BuildSketch(Plane.XZ):
        with Locations((5, -55.5)):
            Rectangle(SKETCH5_W, SKETCH5_H)
        with Locations((45, -32)):
            Rectangle(SKETCH5_W, SKETCH5_H)
    extrude(amount=-CUT_EXTRUDE2_DEPTH, mode=Mode.SUBTRACT)


solid = part.part
